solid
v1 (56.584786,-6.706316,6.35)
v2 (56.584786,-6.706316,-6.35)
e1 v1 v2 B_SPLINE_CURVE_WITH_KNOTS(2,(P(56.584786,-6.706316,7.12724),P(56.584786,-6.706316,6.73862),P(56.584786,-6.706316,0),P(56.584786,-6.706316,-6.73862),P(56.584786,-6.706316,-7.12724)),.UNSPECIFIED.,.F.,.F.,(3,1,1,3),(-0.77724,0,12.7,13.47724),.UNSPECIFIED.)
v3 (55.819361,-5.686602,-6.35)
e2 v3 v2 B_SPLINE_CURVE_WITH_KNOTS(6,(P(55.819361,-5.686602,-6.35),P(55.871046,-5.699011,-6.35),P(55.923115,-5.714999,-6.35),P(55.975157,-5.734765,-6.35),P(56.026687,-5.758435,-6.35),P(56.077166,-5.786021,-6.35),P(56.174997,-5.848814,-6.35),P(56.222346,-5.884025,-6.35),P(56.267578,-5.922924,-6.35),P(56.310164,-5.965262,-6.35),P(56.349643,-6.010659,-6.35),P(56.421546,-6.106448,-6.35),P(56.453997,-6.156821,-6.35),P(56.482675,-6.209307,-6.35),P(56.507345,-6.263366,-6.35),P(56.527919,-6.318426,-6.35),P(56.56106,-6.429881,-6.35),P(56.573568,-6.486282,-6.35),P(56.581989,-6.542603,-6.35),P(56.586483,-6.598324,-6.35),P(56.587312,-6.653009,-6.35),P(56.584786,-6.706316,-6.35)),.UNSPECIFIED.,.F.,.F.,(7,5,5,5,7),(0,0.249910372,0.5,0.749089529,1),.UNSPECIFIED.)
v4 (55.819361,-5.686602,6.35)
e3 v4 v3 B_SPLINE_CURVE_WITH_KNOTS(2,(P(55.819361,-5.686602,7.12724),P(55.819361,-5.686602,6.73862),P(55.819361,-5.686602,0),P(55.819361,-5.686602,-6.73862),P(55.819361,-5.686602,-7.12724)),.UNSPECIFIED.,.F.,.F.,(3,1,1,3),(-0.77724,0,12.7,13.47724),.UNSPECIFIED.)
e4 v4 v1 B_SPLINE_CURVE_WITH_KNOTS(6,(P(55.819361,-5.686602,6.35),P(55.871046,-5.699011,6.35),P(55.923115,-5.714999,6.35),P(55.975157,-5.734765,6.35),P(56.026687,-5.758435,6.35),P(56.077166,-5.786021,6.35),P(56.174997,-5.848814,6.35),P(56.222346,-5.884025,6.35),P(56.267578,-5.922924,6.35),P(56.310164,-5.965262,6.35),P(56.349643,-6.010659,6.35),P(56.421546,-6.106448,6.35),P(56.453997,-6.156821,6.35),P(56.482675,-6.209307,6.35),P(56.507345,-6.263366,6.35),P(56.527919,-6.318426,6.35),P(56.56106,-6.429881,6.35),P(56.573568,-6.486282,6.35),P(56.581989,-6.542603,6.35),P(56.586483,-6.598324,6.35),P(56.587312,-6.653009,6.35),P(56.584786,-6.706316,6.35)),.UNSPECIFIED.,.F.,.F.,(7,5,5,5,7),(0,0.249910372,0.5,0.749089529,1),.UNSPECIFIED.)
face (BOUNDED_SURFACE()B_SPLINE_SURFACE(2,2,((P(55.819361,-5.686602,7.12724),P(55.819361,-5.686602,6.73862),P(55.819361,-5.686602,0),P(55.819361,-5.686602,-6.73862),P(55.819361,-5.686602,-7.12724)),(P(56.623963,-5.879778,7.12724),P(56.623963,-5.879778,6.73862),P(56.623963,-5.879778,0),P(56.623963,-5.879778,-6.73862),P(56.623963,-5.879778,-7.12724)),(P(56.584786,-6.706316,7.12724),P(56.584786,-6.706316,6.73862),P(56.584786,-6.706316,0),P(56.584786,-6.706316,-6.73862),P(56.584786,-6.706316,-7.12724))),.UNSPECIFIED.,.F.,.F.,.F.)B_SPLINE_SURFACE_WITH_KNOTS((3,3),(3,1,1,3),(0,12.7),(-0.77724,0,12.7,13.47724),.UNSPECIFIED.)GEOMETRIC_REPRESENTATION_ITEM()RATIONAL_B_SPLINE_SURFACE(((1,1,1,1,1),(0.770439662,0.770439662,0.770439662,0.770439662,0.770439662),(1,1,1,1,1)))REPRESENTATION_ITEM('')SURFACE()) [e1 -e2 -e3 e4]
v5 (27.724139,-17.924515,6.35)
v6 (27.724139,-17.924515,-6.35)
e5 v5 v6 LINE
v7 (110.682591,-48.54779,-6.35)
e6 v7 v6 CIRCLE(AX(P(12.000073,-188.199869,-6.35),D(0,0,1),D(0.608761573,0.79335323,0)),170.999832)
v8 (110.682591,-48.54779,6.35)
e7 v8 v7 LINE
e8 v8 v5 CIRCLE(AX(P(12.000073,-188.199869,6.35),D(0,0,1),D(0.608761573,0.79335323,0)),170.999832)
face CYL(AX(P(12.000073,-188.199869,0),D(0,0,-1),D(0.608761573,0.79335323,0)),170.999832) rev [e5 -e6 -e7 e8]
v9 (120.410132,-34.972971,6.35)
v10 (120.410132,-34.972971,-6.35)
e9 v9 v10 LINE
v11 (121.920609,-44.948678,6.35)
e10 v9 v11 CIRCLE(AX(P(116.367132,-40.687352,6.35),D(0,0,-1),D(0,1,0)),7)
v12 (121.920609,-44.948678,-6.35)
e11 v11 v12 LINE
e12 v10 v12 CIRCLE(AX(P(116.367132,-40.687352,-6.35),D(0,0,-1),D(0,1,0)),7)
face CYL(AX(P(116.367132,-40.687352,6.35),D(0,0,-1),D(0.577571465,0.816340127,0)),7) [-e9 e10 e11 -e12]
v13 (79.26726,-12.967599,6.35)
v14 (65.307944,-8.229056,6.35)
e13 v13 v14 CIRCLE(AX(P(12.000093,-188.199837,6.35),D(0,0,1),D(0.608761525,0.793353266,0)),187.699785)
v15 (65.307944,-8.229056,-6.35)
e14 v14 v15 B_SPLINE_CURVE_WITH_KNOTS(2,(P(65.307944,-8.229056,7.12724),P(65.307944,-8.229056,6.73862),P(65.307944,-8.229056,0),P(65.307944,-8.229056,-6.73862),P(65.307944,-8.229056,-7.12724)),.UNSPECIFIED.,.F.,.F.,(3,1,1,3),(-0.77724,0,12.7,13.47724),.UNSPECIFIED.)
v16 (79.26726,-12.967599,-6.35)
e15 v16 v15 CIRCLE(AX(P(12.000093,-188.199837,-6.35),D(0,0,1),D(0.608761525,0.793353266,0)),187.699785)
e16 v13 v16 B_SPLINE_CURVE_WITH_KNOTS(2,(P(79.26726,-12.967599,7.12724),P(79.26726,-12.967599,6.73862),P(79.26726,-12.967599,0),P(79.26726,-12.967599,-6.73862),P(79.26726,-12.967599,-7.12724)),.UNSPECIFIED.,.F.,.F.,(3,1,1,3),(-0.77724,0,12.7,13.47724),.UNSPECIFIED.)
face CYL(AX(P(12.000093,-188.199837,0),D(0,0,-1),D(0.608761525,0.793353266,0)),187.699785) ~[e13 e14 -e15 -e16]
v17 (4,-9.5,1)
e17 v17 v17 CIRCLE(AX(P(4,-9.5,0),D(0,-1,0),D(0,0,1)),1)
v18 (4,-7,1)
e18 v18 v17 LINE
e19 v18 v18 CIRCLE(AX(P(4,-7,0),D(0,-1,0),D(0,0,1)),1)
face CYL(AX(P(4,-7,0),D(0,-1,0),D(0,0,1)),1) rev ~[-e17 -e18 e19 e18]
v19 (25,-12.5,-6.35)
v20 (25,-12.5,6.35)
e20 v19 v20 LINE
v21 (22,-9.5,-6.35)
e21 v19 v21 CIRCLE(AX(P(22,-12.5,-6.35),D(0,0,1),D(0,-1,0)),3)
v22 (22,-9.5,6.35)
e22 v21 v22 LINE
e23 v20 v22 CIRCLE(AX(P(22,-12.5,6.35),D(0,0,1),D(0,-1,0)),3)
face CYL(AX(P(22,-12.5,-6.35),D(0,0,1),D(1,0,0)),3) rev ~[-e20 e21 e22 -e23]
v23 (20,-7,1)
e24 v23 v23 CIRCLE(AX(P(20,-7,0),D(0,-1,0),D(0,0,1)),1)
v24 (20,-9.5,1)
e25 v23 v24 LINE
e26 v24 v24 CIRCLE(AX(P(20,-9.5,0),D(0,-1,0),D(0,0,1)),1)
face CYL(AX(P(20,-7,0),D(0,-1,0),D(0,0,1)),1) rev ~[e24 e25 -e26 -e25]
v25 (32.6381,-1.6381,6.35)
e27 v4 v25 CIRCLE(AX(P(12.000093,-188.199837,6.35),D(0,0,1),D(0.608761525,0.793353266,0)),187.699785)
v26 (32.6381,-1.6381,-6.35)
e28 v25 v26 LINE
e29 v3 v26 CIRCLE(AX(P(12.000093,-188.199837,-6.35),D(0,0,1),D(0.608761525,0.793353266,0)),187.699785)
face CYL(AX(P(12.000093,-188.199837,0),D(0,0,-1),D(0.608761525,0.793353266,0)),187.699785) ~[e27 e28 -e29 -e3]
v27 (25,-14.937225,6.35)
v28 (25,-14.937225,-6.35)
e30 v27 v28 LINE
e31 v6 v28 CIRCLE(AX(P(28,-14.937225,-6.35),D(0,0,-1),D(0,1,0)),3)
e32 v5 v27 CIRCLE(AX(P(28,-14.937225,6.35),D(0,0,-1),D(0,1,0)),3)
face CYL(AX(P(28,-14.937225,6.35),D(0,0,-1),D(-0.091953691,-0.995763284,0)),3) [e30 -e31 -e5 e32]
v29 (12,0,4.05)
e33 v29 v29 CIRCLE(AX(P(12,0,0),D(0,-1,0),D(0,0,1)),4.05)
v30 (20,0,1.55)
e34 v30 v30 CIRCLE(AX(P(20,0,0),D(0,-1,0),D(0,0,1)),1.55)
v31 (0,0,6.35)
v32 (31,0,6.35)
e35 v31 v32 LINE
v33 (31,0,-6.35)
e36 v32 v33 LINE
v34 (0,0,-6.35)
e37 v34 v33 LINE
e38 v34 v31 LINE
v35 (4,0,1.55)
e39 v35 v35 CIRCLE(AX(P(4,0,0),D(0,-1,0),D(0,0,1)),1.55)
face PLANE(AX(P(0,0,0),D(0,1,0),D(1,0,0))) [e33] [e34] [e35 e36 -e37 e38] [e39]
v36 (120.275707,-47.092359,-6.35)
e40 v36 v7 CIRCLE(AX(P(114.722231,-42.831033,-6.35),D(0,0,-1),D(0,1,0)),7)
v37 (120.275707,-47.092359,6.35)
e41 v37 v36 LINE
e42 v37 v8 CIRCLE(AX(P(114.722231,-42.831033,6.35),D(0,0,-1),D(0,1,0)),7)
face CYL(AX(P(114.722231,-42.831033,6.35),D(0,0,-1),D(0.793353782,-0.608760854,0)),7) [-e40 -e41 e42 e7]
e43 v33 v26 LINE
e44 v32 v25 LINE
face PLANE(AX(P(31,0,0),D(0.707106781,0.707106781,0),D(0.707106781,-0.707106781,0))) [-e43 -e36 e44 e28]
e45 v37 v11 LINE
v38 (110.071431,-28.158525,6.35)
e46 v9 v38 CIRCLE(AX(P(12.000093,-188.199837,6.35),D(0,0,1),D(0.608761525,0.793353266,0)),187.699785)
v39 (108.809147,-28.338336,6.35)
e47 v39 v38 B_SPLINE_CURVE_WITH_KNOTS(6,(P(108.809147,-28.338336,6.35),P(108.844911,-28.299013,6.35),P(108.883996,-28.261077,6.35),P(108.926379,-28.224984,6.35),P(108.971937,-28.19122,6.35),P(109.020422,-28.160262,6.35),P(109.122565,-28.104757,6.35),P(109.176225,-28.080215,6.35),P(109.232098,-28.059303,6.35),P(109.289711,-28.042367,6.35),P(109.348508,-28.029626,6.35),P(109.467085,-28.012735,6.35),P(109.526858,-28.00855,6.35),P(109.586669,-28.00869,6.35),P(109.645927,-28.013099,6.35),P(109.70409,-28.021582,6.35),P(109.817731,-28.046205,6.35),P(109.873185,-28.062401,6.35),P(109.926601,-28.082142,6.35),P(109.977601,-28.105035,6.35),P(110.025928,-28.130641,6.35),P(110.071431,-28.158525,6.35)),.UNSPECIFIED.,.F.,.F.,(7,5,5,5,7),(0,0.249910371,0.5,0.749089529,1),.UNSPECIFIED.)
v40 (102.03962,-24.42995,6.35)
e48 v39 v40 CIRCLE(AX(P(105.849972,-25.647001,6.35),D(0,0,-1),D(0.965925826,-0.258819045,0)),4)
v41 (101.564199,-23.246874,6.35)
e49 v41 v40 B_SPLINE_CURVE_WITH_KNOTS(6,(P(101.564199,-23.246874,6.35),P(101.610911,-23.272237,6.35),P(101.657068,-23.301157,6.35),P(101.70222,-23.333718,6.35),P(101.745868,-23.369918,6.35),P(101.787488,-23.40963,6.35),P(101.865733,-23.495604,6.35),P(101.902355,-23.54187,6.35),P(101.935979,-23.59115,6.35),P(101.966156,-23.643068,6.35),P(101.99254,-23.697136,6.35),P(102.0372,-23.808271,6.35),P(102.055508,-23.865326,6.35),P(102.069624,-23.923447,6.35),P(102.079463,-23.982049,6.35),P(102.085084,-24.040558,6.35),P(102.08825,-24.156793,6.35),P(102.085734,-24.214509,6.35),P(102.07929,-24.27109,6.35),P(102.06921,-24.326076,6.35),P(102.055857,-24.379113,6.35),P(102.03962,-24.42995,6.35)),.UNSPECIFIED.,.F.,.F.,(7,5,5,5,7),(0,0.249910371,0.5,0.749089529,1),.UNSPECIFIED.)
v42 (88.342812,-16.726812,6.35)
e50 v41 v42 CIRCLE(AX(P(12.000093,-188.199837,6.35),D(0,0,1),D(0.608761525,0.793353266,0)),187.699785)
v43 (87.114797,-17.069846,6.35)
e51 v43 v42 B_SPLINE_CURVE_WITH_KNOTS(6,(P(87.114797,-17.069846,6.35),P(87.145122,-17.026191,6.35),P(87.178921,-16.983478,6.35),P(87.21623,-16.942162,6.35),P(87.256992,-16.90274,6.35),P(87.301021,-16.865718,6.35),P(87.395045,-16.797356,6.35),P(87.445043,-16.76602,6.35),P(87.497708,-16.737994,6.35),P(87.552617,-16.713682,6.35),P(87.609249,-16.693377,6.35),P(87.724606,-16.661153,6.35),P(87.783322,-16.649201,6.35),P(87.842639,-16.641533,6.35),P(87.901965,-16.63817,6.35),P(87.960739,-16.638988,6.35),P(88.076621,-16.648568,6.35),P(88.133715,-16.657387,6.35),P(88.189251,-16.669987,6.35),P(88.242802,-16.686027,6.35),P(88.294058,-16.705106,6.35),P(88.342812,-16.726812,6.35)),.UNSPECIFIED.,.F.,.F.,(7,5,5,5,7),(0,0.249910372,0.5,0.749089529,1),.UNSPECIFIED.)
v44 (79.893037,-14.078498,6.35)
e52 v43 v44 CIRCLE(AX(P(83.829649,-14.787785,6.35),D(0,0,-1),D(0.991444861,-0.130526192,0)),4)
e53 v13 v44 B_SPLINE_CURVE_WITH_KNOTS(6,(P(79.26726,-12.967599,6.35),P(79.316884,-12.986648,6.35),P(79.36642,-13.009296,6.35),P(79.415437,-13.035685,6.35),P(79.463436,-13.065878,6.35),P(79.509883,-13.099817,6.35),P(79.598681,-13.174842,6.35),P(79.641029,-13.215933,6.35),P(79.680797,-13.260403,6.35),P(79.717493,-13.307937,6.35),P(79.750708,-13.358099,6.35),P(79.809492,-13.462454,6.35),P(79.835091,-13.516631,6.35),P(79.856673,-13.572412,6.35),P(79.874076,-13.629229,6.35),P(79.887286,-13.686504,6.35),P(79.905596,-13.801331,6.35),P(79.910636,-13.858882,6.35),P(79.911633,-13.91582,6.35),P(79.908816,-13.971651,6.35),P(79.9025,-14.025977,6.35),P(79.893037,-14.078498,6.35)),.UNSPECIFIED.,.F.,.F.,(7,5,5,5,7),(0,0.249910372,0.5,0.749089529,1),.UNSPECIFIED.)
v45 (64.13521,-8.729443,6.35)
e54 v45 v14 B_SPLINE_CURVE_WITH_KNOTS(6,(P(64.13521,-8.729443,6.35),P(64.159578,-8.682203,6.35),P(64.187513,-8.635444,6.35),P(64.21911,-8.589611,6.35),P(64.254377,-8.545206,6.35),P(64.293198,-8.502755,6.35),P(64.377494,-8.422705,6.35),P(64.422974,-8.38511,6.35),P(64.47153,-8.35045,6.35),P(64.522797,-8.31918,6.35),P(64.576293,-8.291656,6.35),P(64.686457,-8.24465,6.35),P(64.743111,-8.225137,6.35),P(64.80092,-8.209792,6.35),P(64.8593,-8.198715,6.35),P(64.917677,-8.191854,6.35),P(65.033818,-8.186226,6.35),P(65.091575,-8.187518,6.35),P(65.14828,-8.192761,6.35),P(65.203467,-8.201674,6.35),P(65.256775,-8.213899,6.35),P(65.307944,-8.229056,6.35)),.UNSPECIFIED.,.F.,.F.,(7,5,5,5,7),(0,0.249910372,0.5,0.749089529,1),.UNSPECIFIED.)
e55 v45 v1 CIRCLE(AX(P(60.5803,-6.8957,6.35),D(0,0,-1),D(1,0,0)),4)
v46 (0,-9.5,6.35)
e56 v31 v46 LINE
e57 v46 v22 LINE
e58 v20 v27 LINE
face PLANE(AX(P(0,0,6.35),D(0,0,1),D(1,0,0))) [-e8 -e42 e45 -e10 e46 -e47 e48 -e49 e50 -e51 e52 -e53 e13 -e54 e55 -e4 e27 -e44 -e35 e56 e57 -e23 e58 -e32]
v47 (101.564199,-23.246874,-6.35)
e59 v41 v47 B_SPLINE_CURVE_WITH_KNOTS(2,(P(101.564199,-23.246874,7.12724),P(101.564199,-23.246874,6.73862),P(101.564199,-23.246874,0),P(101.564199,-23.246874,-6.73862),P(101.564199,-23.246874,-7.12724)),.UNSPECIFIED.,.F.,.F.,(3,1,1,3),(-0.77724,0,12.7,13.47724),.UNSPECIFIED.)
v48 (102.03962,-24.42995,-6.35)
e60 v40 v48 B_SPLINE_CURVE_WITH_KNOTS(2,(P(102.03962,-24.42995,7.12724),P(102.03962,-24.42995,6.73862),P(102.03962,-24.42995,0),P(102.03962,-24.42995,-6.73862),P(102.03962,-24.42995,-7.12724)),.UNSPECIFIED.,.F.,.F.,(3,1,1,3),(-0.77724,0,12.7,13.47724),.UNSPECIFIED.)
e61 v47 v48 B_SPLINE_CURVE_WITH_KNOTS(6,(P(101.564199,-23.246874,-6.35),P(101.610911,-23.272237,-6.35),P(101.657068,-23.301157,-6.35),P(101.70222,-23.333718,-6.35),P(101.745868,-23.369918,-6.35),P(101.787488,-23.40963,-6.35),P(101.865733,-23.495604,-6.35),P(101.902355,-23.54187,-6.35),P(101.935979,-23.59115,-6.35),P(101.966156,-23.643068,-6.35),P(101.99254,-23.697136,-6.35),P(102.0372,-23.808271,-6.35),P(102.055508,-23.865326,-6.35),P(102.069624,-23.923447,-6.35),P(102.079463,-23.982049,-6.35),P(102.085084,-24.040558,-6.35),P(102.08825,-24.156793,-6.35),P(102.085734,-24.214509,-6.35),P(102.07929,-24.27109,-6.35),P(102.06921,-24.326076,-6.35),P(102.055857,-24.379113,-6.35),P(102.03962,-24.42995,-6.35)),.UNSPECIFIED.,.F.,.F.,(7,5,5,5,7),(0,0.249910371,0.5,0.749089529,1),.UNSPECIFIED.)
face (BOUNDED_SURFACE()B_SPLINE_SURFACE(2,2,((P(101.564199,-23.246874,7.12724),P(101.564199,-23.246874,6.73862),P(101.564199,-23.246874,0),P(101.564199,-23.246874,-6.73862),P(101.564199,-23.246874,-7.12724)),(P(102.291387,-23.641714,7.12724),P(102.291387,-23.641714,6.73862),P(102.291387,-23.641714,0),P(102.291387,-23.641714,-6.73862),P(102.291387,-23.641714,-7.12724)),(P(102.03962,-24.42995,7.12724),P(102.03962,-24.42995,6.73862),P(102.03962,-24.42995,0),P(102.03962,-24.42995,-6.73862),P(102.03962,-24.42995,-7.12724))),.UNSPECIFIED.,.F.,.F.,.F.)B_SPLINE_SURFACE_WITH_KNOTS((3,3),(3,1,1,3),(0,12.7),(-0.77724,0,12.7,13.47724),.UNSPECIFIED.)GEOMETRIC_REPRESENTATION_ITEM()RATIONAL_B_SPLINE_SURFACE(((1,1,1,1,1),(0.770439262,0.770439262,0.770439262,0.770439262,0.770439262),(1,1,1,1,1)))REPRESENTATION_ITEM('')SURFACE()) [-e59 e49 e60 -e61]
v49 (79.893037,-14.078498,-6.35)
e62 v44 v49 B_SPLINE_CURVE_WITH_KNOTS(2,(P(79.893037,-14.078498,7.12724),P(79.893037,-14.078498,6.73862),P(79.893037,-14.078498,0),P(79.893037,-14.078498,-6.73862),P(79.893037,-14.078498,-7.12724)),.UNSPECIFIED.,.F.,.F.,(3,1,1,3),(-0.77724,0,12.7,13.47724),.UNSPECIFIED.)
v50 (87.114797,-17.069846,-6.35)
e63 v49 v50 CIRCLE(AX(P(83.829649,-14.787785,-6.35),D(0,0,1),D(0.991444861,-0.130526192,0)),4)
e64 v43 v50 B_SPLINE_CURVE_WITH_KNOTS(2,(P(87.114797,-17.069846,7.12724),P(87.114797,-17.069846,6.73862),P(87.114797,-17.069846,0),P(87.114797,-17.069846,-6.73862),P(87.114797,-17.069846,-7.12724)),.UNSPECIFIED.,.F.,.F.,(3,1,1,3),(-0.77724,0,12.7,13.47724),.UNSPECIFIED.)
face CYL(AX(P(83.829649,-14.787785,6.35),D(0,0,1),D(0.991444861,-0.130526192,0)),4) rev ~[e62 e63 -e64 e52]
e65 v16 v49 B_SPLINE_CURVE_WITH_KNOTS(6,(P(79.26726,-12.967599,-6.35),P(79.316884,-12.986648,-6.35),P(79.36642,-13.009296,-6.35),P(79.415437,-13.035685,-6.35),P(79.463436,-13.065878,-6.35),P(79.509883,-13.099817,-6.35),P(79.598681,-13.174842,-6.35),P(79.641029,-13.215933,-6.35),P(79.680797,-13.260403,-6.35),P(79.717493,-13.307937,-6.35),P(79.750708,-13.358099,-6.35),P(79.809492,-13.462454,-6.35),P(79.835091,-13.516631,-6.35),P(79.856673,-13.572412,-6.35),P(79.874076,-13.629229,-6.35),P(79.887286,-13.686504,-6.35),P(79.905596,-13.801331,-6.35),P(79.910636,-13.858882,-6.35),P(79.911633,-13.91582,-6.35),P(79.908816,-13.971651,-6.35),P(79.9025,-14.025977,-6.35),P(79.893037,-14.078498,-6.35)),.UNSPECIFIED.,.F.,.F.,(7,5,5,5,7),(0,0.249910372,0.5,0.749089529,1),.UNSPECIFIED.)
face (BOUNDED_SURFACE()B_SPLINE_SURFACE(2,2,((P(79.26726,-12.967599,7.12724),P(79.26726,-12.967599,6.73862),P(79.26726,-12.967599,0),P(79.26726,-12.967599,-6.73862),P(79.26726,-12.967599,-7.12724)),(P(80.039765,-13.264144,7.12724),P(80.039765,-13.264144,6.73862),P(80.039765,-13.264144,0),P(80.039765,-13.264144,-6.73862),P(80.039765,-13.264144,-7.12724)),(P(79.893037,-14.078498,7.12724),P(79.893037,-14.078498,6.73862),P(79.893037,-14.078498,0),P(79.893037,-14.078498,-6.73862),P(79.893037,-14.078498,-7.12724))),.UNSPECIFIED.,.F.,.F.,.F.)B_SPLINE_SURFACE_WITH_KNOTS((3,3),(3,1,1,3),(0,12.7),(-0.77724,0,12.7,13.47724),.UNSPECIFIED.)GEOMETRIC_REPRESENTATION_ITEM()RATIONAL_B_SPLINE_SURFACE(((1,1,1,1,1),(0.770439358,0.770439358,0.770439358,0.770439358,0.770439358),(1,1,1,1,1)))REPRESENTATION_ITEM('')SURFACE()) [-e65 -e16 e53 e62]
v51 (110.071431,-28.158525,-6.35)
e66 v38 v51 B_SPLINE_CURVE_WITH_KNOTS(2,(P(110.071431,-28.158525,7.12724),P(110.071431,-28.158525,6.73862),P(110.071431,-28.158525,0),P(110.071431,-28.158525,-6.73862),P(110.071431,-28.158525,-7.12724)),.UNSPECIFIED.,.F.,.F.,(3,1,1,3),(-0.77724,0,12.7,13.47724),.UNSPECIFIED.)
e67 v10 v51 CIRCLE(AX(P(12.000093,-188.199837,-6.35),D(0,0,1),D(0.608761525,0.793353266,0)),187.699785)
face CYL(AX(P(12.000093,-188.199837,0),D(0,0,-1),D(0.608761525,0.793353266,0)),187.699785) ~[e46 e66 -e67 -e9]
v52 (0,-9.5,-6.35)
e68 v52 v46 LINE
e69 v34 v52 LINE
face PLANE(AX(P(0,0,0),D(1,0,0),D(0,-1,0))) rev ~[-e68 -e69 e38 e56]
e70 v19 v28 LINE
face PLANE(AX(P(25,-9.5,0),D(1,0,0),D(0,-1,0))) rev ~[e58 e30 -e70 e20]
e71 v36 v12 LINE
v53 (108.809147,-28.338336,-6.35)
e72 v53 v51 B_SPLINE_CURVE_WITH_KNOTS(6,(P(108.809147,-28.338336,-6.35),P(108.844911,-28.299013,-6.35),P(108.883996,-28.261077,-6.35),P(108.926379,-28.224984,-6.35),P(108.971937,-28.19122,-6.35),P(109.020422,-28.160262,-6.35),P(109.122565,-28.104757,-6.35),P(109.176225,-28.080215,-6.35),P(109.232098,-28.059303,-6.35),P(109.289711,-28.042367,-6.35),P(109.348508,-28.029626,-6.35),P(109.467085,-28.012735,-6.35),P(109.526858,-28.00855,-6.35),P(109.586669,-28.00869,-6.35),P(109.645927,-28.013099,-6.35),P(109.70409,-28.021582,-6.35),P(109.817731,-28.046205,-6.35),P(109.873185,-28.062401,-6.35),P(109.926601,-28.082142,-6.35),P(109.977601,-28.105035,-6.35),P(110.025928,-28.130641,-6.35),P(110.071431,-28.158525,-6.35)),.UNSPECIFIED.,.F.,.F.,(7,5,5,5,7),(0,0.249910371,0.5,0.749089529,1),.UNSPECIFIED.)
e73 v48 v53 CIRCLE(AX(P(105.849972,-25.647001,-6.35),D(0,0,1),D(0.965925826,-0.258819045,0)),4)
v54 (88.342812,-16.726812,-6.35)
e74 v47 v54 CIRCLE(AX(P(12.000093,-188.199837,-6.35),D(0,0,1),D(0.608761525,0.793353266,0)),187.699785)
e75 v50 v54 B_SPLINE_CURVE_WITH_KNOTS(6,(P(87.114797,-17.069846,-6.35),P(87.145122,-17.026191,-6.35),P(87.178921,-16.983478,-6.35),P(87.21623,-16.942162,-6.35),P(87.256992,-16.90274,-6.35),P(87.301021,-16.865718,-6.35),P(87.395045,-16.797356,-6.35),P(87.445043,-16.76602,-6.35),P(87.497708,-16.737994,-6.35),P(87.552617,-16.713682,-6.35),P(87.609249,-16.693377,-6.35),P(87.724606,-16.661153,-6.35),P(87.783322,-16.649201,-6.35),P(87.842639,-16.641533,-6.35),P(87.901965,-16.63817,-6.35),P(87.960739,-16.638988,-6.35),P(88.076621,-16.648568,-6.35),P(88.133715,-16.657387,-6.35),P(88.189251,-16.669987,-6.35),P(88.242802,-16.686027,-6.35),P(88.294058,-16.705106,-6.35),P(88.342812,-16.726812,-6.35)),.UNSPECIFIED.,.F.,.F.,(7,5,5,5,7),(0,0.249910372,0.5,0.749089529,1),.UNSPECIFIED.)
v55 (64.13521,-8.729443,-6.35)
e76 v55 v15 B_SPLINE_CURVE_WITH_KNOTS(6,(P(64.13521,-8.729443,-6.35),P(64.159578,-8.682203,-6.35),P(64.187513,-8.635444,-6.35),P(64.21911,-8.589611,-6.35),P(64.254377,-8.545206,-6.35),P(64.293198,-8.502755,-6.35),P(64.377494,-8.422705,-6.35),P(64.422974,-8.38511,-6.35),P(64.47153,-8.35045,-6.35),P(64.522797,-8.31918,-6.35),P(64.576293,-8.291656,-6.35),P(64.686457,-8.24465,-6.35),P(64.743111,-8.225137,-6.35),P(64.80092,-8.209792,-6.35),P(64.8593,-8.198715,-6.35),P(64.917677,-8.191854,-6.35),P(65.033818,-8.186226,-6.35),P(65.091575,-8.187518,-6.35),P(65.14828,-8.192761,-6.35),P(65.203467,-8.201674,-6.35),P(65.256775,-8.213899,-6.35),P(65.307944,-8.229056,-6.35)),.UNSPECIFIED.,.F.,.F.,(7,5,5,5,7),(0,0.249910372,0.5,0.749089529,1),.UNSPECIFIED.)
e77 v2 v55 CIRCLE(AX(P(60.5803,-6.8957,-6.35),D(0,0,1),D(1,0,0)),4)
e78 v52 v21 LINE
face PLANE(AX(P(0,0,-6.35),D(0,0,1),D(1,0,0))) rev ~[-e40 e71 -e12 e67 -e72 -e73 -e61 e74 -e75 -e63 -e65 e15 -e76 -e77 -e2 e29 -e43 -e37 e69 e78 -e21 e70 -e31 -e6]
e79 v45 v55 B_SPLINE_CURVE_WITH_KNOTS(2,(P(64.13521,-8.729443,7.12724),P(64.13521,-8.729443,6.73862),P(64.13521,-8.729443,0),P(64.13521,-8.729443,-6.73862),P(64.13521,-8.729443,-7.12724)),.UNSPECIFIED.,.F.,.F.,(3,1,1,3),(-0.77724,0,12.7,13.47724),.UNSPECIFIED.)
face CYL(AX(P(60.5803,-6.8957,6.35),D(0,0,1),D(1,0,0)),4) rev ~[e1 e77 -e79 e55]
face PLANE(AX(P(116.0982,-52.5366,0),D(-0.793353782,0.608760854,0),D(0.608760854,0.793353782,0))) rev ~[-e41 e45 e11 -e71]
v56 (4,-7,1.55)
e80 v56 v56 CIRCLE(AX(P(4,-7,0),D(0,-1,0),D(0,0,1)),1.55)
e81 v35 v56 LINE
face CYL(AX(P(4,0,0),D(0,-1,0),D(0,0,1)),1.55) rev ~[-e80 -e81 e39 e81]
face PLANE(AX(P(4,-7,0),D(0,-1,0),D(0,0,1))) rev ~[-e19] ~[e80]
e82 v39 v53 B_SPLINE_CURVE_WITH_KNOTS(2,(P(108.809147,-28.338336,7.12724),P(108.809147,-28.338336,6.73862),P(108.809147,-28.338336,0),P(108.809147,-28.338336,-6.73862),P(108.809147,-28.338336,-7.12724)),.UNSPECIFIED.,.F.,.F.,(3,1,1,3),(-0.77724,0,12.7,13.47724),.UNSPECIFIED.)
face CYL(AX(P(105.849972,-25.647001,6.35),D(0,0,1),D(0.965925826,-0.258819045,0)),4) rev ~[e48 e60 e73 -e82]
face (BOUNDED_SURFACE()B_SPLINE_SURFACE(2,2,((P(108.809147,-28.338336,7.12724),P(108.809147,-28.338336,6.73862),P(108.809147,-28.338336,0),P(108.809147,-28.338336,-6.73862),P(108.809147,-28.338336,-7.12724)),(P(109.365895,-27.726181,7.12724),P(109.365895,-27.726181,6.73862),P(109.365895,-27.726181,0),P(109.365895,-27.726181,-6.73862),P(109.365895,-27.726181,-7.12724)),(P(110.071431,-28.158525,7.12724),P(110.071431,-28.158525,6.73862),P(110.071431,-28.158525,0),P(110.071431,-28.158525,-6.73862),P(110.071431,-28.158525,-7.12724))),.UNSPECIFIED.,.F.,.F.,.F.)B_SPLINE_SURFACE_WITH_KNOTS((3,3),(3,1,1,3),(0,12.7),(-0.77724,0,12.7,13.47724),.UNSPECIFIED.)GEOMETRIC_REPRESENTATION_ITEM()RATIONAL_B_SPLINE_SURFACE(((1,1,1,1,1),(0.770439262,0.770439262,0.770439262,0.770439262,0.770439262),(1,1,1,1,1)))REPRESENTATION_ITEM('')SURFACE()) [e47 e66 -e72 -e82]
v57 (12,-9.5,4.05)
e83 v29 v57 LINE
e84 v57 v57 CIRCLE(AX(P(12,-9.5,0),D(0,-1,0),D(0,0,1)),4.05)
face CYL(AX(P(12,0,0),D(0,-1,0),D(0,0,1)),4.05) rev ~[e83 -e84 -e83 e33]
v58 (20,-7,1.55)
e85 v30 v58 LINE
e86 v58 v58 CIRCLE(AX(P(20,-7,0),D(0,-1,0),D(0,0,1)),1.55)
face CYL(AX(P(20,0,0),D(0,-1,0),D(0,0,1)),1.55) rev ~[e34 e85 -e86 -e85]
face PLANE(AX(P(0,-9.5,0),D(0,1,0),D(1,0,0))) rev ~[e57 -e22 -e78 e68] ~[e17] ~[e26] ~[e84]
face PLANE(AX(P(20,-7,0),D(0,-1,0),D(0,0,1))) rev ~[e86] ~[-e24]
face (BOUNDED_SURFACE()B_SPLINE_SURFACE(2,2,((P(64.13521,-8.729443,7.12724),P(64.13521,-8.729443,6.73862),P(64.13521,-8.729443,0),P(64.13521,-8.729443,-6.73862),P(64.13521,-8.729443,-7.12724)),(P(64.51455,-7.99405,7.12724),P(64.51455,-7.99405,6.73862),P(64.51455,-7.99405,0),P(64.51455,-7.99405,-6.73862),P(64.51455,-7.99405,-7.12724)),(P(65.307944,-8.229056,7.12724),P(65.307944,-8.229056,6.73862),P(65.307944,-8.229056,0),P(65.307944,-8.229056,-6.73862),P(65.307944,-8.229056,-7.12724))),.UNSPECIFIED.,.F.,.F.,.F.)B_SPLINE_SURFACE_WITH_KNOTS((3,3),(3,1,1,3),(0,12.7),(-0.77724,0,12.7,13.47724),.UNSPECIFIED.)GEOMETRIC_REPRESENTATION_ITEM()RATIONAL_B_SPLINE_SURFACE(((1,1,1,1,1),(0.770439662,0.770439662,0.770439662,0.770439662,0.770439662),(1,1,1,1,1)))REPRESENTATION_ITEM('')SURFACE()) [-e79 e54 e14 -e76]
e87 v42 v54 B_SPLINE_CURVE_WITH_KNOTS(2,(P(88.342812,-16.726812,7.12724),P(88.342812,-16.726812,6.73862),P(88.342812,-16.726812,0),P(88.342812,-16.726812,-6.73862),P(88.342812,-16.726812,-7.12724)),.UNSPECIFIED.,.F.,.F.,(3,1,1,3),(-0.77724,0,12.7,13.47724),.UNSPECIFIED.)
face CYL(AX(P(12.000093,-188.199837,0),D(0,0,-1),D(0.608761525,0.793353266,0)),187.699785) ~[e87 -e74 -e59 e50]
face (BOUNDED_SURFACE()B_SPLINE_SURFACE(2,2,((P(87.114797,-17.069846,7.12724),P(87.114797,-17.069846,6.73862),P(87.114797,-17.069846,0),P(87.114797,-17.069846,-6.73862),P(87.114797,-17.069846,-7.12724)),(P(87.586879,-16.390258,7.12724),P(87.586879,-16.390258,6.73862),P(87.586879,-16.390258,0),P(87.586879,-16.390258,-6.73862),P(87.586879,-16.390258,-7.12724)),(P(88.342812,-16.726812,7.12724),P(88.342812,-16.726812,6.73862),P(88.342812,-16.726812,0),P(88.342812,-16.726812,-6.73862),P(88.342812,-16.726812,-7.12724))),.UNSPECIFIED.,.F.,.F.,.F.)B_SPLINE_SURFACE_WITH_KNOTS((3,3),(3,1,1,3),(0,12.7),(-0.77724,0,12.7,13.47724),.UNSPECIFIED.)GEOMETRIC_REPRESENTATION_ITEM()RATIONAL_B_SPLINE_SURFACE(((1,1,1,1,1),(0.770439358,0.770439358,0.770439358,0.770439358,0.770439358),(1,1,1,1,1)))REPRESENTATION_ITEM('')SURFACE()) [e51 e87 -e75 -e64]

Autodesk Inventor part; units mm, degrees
ref_plane "YZ Plane" through (0, 0, 0) normal (1, 0, 0) x (0, 1, 0)
ref_plane "XZ Plane" through (0, 0, 0) normal (0, 1, 0) x (-1, 0, 0)
ref_plane "XY Plane" through (0, 0, 0) normal (0, 0, 1) x (1, 0, 0)
sketch "Body Outline" plane through (0, 0, 0) normal (0, 0, 1) x (1, 0, 0)
  line L0 (0, 0) -> (31, 0)
  line L1 (31, 0) -> (32.6381, -1.6381)
  line L2 (0, 0) -> (0, -9.5)
  line L3 (0, -9.5) -> (25, -9.5)
  line L4 (25, -9.5) -> (25, -17.6949)
  arc A0 (126.2645, -39.2876) -> (32.6381, -1.6381) centre (12, -188.2) ccw
  arc A1 (116.0982, -52.5366) -> (25, -17.6949) centre (12, -188.2) ccw
  line L5 (116.0982, -52.5366) -> (126.2645, -39.2876)
  dimension "d0" = 45
  dimension "d1" = 0
  dimension "d2" = 0
  dimension "d3" = 9.5
  dimension "d4" = 171
  dimension "d5" = 187.7
  dimension "d6" = 37.5
  dimension "d7" = 12
  dimension "d8" = 188.2
  dimension "d9" = 25
  dimension "d10" = 31
extrude "Body" add sketch "Body Outline" along normal mid plane 12.7
sketch "Dowel Pin Hole Positions" plane through (0, 0, 6.35) normal (0, 1, 0) x (1, 0, 0)
  line L0 (0, 12.7) -> (0, 0) projected
  point P0 (0, 6.35)
  point P1 (4, 6.35)
  point P2 (20, 6.35)
  dimension "d13" = 0
  dimension "d14" = 4
  dimension "d15" = 0
  dimension "d16" = 20
hole "Dowel Pin Holes" at (4, 0, 0) at (20, 0, 0) direction (0, -1, 0) diameter 2 end through all counterbore diameter 3.1 counterbore depth 7
sketch "Fastening Hole Position" plane through (0, 0, 6.35) normal (0, 1, 0) x (1, 0, 0)
  line L0 (0, 12.7) -> (0, 0) projected
  point P0 (0, 6.35)
  point P1 (12, 6.35)
  dimension "d24" = 0
  dimension "d25" = 12
hole "Fastening Hole" at (12, 0, 0) direction (0, -1, 0) diameter 8.1 end through all
sketch "Thumbscrew Cutout Outline" plane through (0, 0, 6.35) normal (0, 0, 1) x (1, 0, 0)
  arc A0 (126.2645, -39.2876) -> (32.6381, -1.6381) centre (12, -188.2) ccw projected
  line L0 (54.964, -27.8563) -> (60.5803, -6.8957) construction
  line L1 (0, 0) -> (0, -9.5) projected
  arc A1 (60.5803, -6.8957) -> (28.3591, -1.2143) centre (12, -188.2) ccw construction
  line L2 (12, -188.2) -> (28.3591, -1.2143) construction
  line L3 (12, -188.2) -> (60.5803, -6.8957) construction
  arc A2 (54.964, -27.8563) -> (26.4679, -22.8317) centre (12, -188.2) ccw construction
  line L4 (12, -188.2) -> (26.4679, -22.8317) construction
  line L5 (12, -188.2) -> (54.964, -27.8563) construction
  circle A3 centre (60.5803, -6.8957) radius 4
  dimension "d50" = 15
  dimension "d51" = 10
  dimension "d52" = 10
  dimension "d53" = 166
  dimension "d54" = 187.7
  dimension "d67" = 8
extrude "Thumbscrew Cutout" cut sketch "Thumbscrew Cutout Outline" against normal through all
pattern_circular "Thumbscrew Cutout Pattern" count 3 over 15 about axis through (12, -188.2, 0) along (0, 0, -1) of "Thumbscrew Cutout"
fillet "Body Fillet" radius 1 6 edges at (56.7058, -5.9017, 0) (64.4328, -7.9721, 0) (80.1181, -13.2965, 0) (87.5087, -16.3578, 0) (102.3648, -23.6841, 0) (109.2926, -27.6838, 0)
fillet "Body Fillet" radius 3 2 edges at (25, -9.5, 0) (25, -17.6949, 0)
fillet "Body Fillet" radius 7 2 edges at (126.2645, -39.2876, 0) (116.0982, -52.5366, 0)
equation "\"d54\" = d5"
properties part number "Arm Simplified" material "Aluminum 6061"
